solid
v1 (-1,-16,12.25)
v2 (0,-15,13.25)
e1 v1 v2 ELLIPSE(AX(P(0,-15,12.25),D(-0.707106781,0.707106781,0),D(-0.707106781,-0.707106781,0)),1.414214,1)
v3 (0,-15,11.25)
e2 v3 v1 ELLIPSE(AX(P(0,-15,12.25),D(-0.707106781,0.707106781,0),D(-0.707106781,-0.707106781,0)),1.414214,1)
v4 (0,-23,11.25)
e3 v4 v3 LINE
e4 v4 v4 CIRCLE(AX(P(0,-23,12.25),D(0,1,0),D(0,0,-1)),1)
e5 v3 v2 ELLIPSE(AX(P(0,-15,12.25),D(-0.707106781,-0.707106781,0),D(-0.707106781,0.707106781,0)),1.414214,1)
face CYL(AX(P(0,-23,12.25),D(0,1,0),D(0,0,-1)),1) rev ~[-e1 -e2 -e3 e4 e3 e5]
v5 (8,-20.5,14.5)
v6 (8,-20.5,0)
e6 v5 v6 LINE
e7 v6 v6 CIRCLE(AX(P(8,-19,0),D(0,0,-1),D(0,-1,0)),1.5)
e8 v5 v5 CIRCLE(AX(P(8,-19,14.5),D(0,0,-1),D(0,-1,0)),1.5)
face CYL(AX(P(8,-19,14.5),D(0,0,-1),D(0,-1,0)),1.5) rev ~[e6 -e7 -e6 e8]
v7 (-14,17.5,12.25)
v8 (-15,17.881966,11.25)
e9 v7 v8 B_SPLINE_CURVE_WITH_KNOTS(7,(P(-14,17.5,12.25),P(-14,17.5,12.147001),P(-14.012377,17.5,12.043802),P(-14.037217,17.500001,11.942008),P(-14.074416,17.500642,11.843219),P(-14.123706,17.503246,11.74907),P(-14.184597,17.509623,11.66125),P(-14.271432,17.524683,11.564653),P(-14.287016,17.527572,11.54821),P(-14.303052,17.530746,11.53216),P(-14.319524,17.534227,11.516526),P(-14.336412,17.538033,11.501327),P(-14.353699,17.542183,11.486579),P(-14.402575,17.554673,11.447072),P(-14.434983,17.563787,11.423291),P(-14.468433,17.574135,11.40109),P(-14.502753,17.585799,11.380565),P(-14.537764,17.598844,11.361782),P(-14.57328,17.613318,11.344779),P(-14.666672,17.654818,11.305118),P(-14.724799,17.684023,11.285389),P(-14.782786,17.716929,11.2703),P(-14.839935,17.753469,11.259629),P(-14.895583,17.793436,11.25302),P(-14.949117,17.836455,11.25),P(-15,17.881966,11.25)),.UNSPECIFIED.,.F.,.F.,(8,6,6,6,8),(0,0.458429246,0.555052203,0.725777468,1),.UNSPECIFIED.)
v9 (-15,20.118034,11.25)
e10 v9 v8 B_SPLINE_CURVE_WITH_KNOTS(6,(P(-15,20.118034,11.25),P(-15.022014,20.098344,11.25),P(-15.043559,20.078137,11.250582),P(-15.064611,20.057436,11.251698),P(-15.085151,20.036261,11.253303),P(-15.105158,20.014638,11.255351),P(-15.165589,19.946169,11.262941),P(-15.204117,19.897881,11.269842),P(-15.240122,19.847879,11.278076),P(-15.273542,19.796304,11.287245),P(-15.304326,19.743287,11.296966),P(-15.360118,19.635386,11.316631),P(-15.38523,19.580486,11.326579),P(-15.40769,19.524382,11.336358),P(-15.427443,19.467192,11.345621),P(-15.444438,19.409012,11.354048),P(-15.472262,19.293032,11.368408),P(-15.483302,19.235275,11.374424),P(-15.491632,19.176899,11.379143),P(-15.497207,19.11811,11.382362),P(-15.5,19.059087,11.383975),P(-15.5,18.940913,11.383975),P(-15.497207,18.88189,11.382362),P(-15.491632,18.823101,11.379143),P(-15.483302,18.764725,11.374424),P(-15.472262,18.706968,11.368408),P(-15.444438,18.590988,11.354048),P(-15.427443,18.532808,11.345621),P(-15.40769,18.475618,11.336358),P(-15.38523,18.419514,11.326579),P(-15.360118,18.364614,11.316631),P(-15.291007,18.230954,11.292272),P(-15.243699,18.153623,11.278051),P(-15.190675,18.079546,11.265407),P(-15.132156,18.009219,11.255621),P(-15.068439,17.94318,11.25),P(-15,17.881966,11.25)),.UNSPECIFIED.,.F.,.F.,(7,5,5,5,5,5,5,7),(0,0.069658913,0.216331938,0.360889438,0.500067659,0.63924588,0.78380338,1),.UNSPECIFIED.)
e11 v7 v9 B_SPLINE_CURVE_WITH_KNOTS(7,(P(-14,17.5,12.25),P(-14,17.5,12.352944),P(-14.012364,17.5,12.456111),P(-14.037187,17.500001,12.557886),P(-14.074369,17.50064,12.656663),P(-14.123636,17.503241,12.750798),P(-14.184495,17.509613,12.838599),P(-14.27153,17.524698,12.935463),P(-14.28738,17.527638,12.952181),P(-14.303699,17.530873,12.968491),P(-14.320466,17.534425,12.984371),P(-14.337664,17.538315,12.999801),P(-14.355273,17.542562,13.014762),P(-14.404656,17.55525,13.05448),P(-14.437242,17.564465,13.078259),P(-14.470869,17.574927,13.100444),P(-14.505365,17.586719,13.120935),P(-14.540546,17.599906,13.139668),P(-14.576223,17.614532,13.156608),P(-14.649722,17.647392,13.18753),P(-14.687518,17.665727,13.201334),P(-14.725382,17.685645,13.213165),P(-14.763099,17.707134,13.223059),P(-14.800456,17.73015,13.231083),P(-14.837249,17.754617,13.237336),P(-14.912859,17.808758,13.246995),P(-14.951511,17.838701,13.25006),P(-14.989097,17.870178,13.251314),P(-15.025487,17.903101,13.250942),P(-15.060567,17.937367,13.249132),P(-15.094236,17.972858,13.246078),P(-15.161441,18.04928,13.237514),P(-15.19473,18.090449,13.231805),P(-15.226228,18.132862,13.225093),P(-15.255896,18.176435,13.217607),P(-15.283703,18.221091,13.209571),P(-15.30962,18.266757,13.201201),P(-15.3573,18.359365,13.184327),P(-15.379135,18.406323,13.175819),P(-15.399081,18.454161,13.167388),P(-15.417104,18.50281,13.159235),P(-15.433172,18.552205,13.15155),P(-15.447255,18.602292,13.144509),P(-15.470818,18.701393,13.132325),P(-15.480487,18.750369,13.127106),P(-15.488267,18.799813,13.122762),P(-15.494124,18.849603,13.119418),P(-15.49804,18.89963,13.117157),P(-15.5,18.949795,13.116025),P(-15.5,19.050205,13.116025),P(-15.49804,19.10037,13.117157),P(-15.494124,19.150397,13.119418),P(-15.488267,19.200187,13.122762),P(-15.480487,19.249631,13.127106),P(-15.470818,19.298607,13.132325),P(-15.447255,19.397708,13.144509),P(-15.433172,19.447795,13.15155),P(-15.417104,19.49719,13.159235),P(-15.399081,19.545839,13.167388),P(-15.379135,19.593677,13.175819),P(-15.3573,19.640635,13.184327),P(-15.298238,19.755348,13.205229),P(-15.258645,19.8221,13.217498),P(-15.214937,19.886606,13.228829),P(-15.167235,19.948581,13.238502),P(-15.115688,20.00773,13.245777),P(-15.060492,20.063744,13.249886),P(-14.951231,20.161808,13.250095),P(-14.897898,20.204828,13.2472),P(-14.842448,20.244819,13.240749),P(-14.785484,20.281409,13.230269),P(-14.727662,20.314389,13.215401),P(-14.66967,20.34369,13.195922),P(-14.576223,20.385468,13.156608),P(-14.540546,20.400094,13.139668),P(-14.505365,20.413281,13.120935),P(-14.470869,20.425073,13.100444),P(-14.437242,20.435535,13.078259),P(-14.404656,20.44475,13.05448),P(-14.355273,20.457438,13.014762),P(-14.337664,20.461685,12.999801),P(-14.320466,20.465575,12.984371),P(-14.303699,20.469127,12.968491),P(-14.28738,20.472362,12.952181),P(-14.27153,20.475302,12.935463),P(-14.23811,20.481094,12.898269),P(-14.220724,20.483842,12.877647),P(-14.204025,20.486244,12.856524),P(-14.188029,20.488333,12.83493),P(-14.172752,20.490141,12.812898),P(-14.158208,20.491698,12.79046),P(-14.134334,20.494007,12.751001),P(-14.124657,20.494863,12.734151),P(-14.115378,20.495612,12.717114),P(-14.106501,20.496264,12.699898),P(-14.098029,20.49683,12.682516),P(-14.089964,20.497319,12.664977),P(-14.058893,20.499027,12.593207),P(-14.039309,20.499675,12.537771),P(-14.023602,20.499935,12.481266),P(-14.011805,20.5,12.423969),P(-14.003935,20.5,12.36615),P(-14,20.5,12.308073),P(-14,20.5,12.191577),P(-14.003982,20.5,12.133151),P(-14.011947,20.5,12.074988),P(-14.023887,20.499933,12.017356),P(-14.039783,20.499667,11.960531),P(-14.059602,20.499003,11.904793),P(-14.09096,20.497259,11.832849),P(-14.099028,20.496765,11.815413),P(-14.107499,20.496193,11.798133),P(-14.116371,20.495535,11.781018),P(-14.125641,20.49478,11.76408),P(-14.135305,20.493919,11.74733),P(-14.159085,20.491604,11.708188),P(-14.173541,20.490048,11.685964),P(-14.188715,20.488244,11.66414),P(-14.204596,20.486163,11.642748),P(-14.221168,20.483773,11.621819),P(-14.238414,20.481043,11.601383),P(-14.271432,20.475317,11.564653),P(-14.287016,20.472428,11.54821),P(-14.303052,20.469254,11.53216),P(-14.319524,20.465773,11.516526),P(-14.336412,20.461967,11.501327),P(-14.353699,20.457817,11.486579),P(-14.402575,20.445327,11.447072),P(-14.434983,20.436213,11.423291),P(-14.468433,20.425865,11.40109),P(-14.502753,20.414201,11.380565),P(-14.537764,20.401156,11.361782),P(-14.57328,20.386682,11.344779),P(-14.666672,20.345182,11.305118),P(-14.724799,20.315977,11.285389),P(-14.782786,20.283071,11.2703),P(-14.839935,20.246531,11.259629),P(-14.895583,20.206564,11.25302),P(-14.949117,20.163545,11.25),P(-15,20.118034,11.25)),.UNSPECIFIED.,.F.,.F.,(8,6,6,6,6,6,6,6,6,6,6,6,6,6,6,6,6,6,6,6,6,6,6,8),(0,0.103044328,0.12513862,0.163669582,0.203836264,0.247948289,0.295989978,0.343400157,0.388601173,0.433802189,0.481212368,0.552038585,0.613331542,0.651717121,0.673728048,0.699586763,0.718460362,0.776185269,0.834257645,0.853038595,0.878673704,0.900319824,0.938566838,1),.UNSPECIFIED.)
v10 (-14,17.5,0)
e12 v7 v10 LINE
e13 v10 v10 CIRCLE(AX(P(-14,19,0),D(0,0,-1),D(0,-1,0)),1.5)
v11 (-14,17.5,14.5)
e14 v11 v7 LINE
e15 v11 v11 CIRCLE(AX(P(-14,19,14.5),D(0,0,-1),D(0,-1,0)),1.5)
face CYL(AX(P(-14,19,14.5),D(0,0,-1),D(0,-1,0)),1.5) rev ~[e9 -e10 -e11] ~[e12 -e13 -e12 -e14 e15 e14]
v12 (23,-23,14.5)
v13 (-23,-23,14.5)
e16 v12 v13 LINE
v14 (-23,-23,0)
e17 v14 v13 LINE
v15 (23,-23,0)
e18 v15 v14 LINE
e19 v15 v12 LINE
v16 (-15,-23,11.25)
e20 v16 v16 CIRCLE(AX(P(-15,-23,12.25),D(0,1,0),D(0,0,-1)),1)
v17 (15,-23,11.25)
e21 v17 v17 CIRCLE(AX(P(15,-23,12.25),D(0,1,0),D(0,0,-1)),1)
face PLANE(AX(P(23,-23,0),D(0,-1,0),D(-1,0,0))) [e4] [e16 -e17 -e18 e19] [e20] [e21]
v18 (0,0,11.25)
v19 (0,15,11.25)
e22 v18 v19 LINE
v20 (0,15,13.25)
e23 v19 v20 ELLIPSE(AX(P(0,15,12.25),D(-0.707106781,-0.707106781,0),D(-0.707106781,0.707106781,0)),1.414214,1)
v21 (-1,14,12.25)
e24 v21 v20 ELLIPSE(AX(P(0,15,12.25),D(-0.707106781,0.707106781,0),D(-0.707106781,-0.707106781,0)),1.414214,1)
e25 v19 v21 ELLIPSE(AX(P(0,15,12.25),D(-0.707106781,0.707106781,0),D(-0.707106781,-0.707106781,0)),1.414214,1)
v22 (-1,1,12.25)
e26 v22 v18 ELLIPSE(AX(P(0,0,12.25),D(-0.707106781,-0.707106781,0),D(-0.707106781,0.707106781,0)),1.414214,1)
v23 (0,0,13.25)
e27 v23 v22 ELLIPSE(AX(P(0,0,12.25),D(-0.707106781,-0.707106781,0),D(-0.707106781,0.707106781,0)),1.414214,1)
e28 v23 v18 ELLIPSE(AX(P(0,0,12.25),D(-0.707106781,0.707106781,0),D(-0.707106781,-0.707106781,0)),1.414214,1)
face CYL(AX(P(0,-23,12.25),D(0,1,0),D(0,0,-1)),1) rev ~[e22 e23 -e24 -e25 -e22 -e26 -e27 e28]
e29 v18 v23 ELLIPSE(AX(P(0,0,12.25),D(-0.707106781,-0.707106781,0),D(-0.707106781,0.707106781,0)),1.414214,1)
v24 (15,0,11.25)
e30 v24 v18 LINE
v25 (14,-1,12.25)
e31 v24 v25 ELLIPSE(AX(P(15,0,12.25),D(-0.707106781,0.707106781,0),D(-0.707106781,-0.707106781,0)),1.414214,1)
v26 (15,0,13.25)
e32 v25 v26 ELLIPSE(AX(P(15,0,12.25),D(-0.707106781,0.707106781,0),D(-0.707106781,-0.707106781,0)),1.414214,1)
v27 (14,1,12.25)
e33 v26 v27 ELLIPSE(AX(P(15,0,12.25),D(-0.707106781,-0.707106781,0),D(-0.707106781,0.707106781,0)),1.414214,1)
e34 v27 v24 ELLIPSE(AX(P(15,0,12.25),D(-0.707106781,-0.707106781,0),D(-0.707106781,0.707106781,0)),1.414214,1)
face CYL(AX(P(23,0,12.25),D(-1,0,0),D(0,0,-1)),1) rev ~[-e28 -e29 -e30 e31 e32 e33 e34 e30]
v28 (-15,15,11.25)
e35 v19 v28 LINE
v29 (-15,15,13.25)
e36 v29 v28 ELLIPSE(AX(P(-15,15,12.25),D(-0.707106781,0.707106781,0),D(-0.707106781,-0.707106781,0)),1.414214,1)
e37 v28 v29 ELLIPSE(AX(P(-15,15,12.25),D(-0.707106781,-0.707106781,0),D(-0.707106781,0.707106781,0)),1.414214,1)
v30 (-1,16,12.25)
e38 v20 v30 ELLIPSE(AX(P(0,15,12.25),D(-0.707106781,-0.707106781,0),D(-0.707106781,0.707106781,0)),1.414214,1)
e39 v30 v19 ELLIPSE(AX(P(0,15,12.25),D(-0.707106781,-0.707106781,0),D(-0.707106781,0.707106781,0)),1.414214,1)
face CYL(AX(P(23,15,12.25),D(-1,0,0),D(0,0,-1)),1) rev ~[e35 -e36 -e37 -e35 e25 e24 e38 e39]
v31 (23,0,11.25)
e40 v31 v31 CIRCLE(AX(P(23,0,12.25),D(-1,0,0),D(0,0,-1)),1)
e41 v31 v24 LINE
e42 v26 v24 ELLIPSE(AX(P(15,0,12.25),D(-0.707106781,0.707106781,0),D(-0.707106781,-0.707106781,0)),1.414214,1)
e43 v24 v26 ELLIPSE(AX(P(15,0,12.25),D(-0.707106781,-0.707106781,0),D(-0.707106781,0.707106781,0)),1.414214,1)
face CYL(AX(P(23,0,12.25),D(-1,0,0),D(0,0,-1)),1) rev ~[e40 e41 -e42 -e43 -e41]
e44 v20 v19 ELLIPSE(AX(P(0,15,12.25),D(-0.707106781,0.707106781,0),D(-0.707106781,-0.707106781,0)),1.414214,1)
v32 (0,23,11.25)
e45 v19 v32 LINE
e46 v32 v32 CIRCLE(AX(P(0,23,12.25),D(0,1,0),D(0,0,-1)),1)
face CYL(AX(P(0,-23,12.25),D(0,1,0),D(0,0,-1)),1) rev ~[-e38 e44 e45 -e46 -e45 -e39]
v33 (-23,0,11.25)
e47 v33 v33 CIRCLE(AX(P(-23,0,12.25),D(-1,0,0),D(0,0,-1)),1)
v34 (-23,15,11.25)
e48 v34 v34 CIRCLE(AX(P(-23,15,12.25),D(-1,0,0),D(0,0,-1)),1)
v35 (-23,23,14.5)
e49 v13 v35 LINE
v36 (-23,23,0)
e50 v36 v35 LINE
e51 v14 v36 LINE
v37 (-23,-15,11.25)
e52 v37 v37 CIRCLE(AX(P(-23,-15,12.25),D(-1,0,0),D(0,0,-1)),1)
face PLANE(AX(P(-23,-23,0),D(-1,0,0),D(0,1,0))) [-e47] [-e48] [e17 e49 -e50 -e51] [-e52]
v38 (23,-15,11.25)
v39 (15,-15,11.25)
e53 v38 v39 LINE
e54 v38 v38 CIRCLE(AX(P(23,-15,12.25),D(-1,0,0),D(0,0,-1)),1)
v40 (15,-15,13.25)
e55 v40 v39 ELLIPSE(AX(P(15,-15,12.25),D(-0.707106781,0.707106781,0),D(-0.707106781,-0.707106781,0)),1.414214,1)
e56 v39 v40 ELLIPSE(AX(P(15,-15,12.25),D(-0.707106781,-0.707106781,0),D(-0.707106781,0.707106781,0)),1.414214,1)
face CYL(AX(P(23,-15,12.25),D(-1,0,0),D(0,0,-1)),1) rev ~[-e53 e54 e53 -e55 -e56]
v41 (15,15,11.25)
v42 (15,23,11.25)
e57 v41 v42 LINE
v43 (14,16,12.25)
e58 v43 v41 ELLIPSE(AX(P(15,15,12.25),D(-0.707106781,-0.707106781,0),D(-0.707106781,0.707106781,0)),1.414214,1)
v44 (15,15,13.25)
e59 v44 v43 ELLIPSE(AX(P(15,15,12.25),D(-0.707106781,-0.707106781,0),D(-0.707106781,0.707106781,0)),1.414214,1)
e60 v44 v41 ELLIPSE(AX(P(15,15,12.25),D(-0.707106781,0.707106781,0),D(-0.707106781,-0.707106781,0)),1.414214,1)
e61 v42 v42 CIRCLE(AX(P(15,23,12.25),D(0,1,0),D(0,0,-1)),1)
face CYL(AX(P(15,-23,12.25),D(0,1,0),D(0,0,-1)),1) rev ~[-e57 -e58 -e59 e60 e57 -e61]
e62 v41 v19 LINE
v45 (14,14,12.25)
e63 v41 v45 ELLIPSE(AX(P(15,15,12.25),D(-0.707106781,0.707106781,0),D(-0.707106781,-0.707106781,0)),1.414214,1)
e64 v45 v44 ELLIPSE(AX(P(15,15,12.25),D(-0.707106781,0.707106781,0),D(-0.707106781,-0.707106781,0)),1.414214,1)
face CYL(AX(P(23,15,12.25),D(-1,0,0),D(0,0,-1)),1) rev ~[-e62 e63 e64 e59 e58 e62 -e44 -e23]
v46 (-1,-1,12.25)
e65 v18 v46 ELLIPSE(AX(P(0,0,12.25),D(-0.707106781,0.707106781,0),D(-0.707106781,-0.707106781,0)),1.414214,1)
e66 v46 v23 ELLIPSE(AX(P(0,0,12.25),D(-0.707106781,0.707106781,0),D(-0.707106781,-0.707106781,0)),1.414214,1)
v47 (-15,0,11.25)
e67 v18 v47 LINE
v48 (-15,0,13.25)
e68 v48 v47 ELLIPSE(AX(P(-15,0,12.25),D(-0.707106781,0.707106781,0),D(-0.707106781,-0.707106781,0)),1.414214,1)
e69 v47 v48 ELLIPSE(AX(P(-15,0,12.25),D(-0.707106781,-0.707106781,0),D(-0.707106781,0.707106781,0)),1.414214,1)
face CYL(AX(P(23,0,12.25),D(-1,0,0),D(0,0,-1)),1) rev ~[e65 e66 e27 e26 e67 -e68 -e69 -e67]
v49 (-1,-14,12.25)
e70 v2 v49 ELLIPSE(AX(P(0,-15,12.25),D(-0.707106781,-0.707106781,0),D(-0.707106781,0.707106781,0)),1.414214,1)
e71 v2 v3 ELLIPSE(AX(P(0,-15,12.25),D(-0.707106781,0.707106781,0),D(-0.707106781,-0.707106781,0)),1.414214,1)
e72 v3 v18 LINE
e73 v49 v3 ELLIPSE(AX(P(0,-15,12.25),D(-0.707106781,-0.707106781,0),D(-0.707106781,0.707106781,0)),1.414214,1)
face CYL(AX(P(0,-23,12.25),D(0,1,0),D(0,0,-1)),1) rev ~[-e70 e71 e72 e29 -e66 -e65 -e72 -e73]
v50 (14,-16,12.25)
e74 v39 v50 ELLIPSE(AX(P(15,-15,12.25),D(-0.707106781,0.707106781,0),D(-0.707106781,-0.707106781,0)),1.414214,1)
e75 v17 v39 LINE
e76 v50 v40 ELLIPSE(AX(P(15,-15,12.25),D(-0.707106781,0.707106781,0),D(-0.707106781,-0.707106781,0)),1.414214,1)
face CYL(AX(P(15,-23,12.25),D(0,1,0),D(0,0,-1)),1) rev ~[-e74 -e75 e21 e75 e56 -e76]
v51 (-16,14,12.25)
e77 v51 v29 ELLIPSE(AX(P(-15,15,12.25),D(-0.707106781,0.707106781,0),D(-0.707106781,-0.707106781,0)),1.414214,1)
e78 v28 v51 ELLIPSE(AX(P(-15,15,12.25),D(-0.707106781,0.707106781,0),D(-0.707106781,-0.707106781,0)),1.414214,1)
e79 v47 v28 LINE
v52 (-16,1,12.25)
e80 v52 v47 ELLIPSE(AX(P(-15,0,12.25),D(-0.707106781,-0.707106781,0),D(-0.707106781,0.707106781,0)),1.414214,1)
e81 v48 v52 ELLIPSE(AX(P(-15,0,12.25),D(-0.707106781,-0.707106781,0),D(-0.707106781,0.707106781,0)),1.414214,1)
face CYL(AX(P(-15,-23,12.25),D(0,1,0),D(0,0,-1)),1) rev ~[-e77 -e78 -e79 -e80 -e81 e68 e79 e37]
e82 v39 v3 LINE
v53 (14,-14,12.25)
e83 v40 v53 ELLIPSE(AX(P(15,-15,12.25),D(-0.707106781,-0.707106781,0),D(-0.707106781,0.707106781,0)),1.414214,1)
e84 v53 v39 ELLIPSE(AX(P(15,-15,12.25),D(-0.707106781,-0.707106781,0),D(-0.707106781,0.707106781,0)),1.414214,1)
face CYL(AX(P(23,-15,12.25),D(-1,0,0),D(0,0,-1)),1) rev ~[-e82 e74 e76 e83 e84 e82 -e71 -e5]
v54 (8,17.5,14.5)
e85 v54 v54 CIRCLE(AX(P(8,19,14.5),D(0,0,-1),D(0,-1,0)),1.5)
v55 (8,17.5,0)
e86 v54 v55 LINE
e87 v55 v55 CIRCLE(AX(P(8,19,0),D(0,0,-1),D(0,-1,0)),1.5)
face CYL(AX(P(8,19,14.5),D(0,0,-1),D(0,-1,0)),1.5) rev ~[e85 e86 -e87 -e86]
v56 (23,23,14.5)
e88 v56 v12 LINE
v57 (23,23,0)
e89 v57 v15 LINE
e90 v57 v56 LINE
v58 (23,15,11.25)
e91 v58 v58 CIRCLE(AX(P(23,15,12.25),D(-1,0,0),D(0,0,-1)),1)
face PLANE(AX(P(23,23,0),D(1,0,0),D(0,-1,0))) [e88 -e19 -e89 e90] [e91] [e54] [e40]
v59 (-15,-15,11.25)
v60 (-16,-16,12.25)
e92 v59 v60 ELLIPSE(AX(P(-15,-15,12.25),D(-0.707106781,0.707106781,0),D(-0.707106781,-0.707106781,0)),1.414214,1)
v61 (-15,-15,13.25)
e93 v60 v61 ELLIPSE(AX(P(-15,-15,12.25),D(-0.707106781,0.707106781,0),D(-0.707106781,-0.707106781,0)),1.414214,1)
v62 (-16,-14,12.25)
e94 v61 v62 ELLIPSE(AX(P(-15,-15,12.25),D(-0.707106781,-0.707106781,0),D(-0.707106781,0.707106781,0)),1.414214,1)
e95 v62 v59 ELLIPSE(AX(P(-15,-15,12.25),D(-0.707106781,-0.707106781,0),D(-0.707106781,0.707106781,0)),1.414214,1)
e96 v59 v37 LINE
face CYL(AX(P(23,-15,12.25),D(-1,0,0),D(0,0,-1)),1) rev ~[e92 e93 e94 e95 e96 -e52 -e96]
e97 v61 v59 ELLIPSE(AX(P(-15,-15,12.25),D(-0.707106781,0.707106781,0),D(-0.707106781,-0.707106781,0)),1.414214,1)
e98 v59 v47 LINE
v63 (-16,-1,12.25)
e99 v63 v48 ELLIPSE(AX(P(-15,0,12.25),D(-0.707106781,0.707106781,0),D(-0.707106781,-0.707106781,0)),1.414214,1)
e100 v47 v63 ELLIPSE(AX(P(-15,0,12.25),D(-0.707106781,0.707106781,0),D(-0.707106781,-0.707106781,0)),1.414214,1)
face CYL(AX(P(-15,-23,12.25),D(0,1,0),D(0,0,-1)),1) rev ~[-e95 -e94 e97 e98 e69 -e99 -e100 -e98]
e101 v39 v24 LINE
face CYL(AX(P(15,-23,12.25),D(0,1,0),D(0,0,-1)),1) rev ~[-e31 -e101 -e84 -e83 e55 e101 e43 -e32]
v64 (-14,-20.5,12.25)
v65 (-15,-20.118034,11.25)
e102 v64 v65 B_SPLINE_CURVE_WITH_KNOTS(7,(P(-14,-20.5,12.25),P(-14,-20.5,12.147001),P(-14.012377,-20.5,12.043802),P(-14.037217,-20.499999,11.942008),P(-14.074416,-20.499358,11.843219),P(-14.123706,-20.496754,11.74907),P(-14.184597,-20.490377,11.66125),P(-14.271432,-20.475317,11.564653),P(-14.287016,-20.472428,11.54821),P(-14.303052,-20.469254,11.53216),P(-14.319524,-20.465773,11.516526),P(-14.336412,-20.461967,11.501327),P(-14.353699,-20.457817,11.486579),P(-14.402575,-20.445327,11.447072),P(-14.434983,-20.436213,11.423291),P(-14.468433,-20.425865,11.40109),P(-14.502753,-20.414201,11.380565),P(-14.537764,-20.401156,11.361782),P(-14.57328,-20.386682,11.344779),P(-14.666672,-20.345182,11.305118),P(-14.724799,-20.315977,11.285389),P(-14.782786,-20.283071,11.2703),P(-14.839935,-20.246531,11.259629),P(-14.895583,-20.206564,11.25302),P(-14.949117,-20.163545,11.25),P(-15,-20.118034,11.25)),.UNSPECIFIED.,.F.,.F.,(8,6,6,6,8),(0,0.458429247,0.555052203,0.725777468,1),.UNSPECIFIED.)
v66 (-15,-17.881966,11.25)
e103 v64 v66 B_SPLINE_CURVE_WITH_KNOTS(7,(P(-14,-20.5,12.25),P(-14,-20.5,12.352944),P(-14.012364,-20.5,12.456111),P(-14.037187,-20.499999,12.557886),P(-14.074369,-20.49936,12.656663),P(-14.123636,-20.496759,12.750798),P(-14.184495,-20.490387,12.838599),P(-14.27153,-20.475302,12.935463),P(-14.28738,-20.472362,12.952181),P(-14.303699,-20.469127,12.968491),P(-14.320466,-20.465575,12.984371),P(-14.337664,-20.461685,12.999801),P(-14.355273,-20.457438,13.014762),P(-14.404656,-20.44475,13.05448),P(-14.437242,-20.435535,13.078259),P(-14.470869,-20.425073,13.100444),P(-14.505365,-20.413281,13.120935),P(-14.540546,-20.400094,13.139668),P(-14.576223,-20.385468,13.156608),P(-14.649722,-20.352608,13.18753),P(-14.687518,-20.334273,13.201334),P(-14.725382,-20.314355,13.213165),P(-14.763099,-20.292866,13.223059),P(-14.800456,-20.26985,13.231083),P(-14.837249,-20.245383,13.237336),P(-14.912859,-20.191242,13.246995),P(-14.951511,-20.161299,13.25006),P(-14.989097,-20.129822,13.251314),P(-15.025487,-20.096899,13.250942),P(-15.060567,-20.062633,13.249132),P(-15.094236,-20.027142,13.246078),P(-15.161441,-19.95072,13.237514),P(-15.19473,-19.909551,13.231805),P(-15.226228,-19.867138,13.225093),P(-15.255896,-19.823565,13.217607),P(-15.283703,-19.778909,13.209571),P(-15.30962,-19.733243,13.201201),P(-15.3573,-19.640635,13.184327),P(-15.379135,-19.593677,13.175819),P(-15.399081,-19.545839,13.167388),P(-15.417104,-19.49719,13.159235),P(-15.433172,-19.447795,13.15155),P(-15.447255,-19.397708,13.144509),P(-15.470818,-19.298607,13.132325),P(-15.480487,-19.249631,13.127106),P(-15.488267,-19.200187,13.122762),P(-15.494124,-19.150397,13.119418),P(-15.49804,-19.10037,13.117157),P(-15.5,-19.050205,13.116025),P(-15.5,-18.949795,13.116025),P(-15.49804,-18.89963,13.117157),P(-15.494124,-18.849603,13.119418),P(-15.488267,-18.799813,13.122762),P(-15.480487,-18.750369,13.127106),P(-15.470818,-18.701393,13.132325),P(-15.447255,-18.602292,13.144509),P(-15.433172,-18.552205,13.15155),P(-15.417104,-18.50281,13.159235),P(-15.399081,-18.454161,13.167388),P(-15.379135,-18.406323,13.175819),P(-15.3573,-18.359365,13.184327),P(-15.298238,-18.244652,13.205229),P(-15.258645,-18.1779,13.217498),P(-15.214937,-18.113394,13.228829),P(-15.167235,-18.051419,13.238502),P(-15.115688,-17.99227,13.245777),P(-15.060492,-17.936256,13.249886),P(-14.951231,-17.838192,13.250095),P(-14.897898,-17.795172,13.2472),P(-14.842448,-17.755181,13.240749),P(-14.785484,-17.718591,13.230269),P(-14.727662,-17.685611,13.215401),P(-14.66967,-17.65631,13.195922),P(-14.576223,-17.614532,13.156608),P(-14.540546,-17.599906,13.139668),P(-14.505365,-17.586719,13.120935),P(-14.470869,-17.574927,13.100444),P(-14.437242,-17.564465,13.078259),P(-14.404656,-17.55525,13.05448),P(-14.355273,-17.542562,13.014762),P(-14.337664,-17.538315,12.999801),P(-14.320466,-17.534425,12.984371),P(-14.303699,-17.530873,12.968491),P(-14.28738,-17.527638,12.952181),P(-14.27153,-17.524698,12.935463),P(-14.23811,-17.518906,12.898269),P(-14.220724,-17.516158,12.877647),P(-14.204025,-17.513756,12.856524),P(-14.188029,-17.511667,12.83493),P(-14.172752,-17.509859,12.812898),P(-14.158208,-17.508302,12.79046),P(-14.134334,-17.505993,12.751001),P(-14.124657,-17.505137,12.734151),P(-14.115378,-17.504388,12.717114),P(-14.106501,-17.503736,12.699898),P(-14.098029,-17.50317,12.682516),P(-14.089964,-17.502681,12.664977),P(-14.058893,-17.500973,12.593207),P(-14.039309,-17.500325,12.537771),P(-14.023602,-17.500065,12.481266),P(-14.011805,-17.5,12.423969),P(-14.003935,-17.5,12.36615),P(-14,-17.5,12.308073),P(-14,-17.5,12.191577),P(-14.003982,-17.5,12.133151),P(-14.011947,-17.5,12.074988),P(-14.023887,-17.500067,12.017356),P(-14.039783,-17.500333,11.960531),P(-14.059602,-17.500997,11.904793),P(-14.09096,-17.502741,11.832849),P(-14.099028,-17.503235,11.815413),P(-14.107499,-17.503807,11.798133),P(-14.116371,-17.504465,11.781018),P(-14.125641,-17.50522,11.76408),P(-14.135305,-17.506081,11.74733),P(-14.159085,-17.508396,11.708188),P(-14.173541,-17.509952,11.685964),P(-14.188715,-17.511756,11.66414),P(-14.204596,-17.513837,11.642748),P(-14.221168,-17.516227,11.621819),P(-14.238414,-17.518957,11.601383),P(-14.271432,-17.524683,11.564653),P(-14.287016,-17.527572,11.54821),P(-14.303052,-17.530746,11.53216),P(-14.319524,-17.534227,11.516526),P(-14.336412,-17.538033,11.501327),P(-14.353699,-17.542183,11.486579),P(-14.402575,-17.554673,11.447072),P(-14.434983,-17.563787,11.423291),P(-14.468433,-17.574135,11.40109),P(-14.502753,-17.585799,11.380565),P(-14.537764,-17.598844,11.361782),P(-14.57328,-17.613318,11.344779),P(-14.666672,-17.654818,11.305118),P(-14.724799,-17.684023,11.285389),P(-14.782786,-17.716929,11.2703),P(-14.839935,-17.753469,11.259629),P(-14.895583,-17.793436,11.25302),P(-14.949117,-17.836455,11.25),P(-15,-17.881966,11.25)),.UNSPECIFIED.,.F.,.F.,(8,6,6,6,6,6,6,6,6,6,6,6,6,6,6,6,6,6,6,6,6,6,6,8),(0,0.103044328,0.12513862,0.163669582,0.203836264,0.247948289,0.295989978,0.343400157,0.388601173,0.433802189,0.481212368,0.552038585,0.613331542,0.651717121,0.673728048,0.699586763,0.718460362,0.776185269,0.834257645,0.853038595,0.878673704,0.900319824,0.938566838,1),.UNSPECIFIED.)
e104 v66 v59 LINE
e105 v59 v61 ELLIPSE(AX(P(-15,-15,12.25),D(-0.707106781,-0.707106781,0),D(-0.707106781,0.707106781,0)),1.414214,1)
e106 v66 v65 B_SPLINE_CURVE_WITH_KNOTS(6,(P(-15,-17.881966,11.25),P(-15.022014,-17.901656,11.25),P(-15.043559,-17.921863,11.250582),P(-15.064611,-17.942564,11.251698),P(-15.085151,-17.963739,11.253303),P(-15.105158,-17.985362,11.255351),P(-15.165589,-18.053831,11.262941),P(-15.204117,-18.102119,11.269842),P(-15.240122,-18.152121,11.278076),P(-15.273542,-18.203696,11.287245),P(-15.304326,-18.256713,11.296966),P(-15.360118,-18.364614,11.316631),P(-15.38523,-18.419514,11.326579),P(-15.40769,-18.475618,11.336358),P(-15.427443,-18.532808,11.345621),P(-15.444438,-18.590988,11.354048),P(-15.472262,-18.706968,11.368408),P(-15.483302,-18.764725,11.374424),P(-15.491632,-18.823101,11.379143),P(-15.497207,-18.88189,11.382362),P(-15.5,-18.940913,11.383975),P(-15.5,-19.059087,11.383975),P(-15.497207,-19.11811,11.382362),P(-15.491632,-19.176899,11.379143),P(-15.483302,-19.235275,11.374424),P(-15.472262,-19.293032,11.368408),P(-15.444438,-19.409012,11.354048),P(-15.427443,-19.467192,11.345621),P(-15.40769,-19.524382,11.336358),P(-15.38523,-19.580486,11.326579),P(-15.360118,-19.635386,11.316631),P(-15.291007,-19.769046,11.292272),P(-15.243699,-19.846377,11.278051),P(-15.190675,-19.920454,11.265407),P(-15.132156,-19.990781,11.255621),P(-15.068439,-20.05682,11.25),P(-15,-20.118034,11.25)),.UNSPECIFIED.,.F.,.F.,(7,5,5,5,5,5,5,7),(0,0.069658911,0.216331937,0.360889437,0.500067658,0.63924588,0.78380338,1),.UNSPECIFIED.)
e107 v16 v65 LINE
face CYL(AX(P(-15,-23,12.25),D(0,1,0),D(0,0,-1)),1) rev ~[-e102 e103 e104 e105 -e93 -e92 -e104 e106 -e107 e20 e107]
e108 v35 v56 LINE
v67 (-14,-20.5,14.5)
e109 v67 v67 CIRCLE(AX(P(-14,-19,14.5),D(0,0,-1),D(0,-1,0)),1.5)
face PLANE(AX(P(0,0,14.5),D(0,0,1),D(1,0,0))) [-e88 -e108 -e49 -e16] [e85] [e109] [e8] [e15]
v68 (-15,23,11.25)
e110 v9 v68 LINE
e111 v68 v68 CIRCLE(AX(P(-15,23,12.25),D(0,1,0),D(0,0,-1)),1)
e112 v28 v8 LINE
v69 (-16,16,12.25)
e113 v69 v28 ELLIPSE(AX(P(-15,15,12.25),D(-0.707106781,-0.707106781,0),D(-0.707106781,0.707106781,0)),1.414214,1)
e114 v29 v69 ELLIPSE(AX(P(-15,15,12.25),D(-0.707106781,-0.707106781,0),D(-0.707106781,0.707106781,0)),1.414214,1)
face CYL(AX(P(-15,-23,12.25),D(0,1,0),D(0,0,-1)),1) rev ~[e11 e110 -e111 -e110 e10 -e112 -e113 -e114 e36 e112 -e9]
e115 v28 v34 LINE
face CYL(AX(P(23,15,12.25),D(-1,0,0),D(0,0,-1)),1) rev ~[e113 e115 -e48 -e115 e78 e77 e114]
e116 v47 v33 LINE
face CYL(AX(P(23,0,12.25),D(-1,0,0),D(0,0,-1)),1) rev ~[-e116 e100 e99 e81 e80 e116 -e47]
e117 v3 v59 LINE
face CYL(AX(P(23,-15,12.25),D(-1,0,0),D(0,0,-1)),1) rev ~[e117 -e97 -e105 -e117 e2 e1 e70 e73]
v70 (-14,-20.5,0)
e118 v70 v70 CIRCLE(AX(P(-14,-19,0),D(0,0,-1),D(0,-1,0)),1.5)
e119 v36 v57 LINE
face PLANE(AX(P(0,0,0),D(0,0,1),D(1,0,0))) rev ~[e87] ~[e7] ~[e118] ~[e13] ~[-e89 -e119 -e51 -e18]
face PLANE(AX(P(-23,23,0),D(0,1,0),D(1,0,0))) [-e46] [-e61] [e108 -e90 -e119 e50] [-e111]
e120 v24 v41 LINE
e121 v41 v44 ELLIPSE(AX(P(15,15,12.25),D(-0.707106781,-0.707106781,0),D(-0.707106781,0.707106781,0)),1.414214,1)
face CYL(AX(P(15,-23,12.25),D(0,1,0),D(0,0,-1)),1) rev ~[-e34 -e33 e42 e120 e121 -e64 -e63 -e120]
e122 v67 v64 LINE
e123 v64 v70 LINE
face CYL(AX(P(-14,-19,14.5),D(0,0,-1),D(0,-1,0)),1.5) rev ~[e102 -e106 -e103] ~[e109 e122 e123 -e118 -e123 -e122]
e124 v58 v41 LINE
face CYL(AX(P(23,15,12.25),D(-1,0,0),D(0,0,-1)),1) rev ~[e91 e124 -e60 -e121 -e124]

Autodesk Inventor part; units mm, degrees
ref_plane "YZ Plane" through (0, 0, 0) normal (1, 0, 0) x (0, 1, 0)
ref_plane "XZ Plane" through (0, 0, 0) normal (0, 1, 0) x (-1, 0, 0)
ref_plane "XY Plane" through (0, 0, 0) normal (0, 0, 1) x (1, 0, 0)
sketch "スケッチ1" plane through (0, 0, 0) normal (0, 0, 1) x (1, 0, 0)
  line L0 (-23, 23) -> (23, 23)
  line L1 (23, 23) -> (23, -23)
  line L2 (23, -23) -> (-23, -23)
  line L3 (-23, -23) -> (-23, 23)
  point P0 (0, 0)
  dimension "d0" = 46
  dimension "d1" = 46
  dimension "d2" = 23
  dimension "d3" = 23
extrude "押し出し1" add sketch "スケッチ1" along normal blind 14.5
sketch "スケッチ2" plane through (23, -23, 0) normal (1, 0, 0) x (0, 0, -1)
  line L0 (0, 0) -> (-14.5, 0) projected
  line L1 (0, 46) -> (-14.5, 46) projected
  circle A0 centre (-12.25, 38) radius 1
  circle A1 centre (-12.25, 8) radius 1
  circle A2 centre (-12.25, 23) radius 1
  line L2 (-14.5, 46) -> (-14.5, 0) projected
  point P0 (0, 23)
  dimension "d6" = 2
  dimension "d8" = 8
  dimension "d13" = 8
  dimension "d14" = 15
  dimension "d48" = 2.25
  dimension "d49" = 2.25
  dimension "d50" = 2.25
hole "穴1" at (23, -15, 12.25) at (23, 0, 12.25) at (23, 15, 12.25) direction (-1, 0, 0) diameter 2 end through all
sketch "スケッチ3" plane through (-23, -23, 0) normal (0, -1, 0) x (1, 0, 0)
  line L0 (46, 14.5) -> (0, 14.5) projected
  line L1 (0, 0) -> (0, 14.5) projected
  line L2 (46, 0) -> (46, 14.5) projected
  circle A0 centre (8, 12.25) radius 1
  circle A1 centre (23, 12.25) radius 1
  circle A2 centre (38, 12.25) radius 1
  point P0 (23, 0)
  dimension "d22" = 2
  dimension "d23" = 2.25
  dimension "d24" = 2.25
  dimension "d25" = 2.25
  dimension "d26" = 8
  dimension "d27" = 8
  dimension "d28" = 15
hole "穴2" at (-15, -23, 12.25) at (15, -23, 12.25) at (0, -23, 12.25) direction (0, 1, 0) diameter 2 end through all
thread "ねじ1" size "M2x0.4" class "6H" standard "ANSI Metric M Profile" full length
thread "ねじ2" size "M2x0.4" class "6H" standard "ANSI Metric M Profile" full length
thread "ねじ3" size "M2x0.4" class "6H" standard "ANSI Metric M Profile" full length
thread "ねじ4" size "M2x0.4" class "6H" standard "ANSI Metric M Profile" full length
thread "ねじ5" size "M2x0.4" class "6H" standard "ANSI Metric M Profile" full length
thread "ねじ6" size "M2x0.4" class "6H" standard "ANSI Metric M Profile" full length
sketch "スケッチ4" plane through (0, 0, 14.5) normal (0, 0, 1) x (1, 0, 0)
  line L0 (-23, -23) -> (-23, 23) projected
  line L1 (23, -23) -> (-23, -23) projected
  circle A0 centre (-14, 19) radius 1.5
  circle A1 centre (8, 19) radius 1.5
  circle A2 centre (-14, -19) radius 1.5
  circle A3 centre (8, -19) radius 1.5
  dimension "d51" = 3
  dimension "d52" = 22
  dimension "d53" = 22
  dimension "d54" = 38
  dimension "d55" = 38
  dimension "d88" = 9
  dimension "d89" = 9
  dimension "d90" = 4
  dimension "d91" = 4
hole "穴3" at (-14, -19, 14.5) at (-14, 19, 14.5) at (8, -19, 14.5) at (8, 19, 14.5) direction (0, 0, -1) diameter 3 end through all
thread "ねじ7" size "M3x0.5" class "6H" standard "ANSI Metric M Profile" full length
thread "ねじ8" size "M3x0.5" class "6H" standard "ANSI Metric M Profile" full length
thread "ねじ9" size "M3x0.5" class "6H" standard "ANSI Metric M Profile" full length
thread "ねじ10" size "M3x0.5" class "6H" standard "ANSI Metric M Profile" full length
thread "ねじ11" size "M2x0.4" class "6H" standard "ANSI Metric M Profile" full length
thread "ねじ12" size "M2x0.4" class "6H" standard "ANSI Metric M Profile" full length
thread "ねじ13" size "M2x0.4" class "6H" standard "ANSI Metric M Profile" full length
thread "ねじ14" size "M2x0.4" class "6H" standard "ANSI Metric M Profile" full length
thread "ねじ15" size "M2x0.4" class "6H" standard "ANSI Metric M Profile" full length
thread "ねじ16" size "M2x0.4" class "6H" standard "ANSI Metric M Profile" full length
properties material "アセタール樹脂、白"
